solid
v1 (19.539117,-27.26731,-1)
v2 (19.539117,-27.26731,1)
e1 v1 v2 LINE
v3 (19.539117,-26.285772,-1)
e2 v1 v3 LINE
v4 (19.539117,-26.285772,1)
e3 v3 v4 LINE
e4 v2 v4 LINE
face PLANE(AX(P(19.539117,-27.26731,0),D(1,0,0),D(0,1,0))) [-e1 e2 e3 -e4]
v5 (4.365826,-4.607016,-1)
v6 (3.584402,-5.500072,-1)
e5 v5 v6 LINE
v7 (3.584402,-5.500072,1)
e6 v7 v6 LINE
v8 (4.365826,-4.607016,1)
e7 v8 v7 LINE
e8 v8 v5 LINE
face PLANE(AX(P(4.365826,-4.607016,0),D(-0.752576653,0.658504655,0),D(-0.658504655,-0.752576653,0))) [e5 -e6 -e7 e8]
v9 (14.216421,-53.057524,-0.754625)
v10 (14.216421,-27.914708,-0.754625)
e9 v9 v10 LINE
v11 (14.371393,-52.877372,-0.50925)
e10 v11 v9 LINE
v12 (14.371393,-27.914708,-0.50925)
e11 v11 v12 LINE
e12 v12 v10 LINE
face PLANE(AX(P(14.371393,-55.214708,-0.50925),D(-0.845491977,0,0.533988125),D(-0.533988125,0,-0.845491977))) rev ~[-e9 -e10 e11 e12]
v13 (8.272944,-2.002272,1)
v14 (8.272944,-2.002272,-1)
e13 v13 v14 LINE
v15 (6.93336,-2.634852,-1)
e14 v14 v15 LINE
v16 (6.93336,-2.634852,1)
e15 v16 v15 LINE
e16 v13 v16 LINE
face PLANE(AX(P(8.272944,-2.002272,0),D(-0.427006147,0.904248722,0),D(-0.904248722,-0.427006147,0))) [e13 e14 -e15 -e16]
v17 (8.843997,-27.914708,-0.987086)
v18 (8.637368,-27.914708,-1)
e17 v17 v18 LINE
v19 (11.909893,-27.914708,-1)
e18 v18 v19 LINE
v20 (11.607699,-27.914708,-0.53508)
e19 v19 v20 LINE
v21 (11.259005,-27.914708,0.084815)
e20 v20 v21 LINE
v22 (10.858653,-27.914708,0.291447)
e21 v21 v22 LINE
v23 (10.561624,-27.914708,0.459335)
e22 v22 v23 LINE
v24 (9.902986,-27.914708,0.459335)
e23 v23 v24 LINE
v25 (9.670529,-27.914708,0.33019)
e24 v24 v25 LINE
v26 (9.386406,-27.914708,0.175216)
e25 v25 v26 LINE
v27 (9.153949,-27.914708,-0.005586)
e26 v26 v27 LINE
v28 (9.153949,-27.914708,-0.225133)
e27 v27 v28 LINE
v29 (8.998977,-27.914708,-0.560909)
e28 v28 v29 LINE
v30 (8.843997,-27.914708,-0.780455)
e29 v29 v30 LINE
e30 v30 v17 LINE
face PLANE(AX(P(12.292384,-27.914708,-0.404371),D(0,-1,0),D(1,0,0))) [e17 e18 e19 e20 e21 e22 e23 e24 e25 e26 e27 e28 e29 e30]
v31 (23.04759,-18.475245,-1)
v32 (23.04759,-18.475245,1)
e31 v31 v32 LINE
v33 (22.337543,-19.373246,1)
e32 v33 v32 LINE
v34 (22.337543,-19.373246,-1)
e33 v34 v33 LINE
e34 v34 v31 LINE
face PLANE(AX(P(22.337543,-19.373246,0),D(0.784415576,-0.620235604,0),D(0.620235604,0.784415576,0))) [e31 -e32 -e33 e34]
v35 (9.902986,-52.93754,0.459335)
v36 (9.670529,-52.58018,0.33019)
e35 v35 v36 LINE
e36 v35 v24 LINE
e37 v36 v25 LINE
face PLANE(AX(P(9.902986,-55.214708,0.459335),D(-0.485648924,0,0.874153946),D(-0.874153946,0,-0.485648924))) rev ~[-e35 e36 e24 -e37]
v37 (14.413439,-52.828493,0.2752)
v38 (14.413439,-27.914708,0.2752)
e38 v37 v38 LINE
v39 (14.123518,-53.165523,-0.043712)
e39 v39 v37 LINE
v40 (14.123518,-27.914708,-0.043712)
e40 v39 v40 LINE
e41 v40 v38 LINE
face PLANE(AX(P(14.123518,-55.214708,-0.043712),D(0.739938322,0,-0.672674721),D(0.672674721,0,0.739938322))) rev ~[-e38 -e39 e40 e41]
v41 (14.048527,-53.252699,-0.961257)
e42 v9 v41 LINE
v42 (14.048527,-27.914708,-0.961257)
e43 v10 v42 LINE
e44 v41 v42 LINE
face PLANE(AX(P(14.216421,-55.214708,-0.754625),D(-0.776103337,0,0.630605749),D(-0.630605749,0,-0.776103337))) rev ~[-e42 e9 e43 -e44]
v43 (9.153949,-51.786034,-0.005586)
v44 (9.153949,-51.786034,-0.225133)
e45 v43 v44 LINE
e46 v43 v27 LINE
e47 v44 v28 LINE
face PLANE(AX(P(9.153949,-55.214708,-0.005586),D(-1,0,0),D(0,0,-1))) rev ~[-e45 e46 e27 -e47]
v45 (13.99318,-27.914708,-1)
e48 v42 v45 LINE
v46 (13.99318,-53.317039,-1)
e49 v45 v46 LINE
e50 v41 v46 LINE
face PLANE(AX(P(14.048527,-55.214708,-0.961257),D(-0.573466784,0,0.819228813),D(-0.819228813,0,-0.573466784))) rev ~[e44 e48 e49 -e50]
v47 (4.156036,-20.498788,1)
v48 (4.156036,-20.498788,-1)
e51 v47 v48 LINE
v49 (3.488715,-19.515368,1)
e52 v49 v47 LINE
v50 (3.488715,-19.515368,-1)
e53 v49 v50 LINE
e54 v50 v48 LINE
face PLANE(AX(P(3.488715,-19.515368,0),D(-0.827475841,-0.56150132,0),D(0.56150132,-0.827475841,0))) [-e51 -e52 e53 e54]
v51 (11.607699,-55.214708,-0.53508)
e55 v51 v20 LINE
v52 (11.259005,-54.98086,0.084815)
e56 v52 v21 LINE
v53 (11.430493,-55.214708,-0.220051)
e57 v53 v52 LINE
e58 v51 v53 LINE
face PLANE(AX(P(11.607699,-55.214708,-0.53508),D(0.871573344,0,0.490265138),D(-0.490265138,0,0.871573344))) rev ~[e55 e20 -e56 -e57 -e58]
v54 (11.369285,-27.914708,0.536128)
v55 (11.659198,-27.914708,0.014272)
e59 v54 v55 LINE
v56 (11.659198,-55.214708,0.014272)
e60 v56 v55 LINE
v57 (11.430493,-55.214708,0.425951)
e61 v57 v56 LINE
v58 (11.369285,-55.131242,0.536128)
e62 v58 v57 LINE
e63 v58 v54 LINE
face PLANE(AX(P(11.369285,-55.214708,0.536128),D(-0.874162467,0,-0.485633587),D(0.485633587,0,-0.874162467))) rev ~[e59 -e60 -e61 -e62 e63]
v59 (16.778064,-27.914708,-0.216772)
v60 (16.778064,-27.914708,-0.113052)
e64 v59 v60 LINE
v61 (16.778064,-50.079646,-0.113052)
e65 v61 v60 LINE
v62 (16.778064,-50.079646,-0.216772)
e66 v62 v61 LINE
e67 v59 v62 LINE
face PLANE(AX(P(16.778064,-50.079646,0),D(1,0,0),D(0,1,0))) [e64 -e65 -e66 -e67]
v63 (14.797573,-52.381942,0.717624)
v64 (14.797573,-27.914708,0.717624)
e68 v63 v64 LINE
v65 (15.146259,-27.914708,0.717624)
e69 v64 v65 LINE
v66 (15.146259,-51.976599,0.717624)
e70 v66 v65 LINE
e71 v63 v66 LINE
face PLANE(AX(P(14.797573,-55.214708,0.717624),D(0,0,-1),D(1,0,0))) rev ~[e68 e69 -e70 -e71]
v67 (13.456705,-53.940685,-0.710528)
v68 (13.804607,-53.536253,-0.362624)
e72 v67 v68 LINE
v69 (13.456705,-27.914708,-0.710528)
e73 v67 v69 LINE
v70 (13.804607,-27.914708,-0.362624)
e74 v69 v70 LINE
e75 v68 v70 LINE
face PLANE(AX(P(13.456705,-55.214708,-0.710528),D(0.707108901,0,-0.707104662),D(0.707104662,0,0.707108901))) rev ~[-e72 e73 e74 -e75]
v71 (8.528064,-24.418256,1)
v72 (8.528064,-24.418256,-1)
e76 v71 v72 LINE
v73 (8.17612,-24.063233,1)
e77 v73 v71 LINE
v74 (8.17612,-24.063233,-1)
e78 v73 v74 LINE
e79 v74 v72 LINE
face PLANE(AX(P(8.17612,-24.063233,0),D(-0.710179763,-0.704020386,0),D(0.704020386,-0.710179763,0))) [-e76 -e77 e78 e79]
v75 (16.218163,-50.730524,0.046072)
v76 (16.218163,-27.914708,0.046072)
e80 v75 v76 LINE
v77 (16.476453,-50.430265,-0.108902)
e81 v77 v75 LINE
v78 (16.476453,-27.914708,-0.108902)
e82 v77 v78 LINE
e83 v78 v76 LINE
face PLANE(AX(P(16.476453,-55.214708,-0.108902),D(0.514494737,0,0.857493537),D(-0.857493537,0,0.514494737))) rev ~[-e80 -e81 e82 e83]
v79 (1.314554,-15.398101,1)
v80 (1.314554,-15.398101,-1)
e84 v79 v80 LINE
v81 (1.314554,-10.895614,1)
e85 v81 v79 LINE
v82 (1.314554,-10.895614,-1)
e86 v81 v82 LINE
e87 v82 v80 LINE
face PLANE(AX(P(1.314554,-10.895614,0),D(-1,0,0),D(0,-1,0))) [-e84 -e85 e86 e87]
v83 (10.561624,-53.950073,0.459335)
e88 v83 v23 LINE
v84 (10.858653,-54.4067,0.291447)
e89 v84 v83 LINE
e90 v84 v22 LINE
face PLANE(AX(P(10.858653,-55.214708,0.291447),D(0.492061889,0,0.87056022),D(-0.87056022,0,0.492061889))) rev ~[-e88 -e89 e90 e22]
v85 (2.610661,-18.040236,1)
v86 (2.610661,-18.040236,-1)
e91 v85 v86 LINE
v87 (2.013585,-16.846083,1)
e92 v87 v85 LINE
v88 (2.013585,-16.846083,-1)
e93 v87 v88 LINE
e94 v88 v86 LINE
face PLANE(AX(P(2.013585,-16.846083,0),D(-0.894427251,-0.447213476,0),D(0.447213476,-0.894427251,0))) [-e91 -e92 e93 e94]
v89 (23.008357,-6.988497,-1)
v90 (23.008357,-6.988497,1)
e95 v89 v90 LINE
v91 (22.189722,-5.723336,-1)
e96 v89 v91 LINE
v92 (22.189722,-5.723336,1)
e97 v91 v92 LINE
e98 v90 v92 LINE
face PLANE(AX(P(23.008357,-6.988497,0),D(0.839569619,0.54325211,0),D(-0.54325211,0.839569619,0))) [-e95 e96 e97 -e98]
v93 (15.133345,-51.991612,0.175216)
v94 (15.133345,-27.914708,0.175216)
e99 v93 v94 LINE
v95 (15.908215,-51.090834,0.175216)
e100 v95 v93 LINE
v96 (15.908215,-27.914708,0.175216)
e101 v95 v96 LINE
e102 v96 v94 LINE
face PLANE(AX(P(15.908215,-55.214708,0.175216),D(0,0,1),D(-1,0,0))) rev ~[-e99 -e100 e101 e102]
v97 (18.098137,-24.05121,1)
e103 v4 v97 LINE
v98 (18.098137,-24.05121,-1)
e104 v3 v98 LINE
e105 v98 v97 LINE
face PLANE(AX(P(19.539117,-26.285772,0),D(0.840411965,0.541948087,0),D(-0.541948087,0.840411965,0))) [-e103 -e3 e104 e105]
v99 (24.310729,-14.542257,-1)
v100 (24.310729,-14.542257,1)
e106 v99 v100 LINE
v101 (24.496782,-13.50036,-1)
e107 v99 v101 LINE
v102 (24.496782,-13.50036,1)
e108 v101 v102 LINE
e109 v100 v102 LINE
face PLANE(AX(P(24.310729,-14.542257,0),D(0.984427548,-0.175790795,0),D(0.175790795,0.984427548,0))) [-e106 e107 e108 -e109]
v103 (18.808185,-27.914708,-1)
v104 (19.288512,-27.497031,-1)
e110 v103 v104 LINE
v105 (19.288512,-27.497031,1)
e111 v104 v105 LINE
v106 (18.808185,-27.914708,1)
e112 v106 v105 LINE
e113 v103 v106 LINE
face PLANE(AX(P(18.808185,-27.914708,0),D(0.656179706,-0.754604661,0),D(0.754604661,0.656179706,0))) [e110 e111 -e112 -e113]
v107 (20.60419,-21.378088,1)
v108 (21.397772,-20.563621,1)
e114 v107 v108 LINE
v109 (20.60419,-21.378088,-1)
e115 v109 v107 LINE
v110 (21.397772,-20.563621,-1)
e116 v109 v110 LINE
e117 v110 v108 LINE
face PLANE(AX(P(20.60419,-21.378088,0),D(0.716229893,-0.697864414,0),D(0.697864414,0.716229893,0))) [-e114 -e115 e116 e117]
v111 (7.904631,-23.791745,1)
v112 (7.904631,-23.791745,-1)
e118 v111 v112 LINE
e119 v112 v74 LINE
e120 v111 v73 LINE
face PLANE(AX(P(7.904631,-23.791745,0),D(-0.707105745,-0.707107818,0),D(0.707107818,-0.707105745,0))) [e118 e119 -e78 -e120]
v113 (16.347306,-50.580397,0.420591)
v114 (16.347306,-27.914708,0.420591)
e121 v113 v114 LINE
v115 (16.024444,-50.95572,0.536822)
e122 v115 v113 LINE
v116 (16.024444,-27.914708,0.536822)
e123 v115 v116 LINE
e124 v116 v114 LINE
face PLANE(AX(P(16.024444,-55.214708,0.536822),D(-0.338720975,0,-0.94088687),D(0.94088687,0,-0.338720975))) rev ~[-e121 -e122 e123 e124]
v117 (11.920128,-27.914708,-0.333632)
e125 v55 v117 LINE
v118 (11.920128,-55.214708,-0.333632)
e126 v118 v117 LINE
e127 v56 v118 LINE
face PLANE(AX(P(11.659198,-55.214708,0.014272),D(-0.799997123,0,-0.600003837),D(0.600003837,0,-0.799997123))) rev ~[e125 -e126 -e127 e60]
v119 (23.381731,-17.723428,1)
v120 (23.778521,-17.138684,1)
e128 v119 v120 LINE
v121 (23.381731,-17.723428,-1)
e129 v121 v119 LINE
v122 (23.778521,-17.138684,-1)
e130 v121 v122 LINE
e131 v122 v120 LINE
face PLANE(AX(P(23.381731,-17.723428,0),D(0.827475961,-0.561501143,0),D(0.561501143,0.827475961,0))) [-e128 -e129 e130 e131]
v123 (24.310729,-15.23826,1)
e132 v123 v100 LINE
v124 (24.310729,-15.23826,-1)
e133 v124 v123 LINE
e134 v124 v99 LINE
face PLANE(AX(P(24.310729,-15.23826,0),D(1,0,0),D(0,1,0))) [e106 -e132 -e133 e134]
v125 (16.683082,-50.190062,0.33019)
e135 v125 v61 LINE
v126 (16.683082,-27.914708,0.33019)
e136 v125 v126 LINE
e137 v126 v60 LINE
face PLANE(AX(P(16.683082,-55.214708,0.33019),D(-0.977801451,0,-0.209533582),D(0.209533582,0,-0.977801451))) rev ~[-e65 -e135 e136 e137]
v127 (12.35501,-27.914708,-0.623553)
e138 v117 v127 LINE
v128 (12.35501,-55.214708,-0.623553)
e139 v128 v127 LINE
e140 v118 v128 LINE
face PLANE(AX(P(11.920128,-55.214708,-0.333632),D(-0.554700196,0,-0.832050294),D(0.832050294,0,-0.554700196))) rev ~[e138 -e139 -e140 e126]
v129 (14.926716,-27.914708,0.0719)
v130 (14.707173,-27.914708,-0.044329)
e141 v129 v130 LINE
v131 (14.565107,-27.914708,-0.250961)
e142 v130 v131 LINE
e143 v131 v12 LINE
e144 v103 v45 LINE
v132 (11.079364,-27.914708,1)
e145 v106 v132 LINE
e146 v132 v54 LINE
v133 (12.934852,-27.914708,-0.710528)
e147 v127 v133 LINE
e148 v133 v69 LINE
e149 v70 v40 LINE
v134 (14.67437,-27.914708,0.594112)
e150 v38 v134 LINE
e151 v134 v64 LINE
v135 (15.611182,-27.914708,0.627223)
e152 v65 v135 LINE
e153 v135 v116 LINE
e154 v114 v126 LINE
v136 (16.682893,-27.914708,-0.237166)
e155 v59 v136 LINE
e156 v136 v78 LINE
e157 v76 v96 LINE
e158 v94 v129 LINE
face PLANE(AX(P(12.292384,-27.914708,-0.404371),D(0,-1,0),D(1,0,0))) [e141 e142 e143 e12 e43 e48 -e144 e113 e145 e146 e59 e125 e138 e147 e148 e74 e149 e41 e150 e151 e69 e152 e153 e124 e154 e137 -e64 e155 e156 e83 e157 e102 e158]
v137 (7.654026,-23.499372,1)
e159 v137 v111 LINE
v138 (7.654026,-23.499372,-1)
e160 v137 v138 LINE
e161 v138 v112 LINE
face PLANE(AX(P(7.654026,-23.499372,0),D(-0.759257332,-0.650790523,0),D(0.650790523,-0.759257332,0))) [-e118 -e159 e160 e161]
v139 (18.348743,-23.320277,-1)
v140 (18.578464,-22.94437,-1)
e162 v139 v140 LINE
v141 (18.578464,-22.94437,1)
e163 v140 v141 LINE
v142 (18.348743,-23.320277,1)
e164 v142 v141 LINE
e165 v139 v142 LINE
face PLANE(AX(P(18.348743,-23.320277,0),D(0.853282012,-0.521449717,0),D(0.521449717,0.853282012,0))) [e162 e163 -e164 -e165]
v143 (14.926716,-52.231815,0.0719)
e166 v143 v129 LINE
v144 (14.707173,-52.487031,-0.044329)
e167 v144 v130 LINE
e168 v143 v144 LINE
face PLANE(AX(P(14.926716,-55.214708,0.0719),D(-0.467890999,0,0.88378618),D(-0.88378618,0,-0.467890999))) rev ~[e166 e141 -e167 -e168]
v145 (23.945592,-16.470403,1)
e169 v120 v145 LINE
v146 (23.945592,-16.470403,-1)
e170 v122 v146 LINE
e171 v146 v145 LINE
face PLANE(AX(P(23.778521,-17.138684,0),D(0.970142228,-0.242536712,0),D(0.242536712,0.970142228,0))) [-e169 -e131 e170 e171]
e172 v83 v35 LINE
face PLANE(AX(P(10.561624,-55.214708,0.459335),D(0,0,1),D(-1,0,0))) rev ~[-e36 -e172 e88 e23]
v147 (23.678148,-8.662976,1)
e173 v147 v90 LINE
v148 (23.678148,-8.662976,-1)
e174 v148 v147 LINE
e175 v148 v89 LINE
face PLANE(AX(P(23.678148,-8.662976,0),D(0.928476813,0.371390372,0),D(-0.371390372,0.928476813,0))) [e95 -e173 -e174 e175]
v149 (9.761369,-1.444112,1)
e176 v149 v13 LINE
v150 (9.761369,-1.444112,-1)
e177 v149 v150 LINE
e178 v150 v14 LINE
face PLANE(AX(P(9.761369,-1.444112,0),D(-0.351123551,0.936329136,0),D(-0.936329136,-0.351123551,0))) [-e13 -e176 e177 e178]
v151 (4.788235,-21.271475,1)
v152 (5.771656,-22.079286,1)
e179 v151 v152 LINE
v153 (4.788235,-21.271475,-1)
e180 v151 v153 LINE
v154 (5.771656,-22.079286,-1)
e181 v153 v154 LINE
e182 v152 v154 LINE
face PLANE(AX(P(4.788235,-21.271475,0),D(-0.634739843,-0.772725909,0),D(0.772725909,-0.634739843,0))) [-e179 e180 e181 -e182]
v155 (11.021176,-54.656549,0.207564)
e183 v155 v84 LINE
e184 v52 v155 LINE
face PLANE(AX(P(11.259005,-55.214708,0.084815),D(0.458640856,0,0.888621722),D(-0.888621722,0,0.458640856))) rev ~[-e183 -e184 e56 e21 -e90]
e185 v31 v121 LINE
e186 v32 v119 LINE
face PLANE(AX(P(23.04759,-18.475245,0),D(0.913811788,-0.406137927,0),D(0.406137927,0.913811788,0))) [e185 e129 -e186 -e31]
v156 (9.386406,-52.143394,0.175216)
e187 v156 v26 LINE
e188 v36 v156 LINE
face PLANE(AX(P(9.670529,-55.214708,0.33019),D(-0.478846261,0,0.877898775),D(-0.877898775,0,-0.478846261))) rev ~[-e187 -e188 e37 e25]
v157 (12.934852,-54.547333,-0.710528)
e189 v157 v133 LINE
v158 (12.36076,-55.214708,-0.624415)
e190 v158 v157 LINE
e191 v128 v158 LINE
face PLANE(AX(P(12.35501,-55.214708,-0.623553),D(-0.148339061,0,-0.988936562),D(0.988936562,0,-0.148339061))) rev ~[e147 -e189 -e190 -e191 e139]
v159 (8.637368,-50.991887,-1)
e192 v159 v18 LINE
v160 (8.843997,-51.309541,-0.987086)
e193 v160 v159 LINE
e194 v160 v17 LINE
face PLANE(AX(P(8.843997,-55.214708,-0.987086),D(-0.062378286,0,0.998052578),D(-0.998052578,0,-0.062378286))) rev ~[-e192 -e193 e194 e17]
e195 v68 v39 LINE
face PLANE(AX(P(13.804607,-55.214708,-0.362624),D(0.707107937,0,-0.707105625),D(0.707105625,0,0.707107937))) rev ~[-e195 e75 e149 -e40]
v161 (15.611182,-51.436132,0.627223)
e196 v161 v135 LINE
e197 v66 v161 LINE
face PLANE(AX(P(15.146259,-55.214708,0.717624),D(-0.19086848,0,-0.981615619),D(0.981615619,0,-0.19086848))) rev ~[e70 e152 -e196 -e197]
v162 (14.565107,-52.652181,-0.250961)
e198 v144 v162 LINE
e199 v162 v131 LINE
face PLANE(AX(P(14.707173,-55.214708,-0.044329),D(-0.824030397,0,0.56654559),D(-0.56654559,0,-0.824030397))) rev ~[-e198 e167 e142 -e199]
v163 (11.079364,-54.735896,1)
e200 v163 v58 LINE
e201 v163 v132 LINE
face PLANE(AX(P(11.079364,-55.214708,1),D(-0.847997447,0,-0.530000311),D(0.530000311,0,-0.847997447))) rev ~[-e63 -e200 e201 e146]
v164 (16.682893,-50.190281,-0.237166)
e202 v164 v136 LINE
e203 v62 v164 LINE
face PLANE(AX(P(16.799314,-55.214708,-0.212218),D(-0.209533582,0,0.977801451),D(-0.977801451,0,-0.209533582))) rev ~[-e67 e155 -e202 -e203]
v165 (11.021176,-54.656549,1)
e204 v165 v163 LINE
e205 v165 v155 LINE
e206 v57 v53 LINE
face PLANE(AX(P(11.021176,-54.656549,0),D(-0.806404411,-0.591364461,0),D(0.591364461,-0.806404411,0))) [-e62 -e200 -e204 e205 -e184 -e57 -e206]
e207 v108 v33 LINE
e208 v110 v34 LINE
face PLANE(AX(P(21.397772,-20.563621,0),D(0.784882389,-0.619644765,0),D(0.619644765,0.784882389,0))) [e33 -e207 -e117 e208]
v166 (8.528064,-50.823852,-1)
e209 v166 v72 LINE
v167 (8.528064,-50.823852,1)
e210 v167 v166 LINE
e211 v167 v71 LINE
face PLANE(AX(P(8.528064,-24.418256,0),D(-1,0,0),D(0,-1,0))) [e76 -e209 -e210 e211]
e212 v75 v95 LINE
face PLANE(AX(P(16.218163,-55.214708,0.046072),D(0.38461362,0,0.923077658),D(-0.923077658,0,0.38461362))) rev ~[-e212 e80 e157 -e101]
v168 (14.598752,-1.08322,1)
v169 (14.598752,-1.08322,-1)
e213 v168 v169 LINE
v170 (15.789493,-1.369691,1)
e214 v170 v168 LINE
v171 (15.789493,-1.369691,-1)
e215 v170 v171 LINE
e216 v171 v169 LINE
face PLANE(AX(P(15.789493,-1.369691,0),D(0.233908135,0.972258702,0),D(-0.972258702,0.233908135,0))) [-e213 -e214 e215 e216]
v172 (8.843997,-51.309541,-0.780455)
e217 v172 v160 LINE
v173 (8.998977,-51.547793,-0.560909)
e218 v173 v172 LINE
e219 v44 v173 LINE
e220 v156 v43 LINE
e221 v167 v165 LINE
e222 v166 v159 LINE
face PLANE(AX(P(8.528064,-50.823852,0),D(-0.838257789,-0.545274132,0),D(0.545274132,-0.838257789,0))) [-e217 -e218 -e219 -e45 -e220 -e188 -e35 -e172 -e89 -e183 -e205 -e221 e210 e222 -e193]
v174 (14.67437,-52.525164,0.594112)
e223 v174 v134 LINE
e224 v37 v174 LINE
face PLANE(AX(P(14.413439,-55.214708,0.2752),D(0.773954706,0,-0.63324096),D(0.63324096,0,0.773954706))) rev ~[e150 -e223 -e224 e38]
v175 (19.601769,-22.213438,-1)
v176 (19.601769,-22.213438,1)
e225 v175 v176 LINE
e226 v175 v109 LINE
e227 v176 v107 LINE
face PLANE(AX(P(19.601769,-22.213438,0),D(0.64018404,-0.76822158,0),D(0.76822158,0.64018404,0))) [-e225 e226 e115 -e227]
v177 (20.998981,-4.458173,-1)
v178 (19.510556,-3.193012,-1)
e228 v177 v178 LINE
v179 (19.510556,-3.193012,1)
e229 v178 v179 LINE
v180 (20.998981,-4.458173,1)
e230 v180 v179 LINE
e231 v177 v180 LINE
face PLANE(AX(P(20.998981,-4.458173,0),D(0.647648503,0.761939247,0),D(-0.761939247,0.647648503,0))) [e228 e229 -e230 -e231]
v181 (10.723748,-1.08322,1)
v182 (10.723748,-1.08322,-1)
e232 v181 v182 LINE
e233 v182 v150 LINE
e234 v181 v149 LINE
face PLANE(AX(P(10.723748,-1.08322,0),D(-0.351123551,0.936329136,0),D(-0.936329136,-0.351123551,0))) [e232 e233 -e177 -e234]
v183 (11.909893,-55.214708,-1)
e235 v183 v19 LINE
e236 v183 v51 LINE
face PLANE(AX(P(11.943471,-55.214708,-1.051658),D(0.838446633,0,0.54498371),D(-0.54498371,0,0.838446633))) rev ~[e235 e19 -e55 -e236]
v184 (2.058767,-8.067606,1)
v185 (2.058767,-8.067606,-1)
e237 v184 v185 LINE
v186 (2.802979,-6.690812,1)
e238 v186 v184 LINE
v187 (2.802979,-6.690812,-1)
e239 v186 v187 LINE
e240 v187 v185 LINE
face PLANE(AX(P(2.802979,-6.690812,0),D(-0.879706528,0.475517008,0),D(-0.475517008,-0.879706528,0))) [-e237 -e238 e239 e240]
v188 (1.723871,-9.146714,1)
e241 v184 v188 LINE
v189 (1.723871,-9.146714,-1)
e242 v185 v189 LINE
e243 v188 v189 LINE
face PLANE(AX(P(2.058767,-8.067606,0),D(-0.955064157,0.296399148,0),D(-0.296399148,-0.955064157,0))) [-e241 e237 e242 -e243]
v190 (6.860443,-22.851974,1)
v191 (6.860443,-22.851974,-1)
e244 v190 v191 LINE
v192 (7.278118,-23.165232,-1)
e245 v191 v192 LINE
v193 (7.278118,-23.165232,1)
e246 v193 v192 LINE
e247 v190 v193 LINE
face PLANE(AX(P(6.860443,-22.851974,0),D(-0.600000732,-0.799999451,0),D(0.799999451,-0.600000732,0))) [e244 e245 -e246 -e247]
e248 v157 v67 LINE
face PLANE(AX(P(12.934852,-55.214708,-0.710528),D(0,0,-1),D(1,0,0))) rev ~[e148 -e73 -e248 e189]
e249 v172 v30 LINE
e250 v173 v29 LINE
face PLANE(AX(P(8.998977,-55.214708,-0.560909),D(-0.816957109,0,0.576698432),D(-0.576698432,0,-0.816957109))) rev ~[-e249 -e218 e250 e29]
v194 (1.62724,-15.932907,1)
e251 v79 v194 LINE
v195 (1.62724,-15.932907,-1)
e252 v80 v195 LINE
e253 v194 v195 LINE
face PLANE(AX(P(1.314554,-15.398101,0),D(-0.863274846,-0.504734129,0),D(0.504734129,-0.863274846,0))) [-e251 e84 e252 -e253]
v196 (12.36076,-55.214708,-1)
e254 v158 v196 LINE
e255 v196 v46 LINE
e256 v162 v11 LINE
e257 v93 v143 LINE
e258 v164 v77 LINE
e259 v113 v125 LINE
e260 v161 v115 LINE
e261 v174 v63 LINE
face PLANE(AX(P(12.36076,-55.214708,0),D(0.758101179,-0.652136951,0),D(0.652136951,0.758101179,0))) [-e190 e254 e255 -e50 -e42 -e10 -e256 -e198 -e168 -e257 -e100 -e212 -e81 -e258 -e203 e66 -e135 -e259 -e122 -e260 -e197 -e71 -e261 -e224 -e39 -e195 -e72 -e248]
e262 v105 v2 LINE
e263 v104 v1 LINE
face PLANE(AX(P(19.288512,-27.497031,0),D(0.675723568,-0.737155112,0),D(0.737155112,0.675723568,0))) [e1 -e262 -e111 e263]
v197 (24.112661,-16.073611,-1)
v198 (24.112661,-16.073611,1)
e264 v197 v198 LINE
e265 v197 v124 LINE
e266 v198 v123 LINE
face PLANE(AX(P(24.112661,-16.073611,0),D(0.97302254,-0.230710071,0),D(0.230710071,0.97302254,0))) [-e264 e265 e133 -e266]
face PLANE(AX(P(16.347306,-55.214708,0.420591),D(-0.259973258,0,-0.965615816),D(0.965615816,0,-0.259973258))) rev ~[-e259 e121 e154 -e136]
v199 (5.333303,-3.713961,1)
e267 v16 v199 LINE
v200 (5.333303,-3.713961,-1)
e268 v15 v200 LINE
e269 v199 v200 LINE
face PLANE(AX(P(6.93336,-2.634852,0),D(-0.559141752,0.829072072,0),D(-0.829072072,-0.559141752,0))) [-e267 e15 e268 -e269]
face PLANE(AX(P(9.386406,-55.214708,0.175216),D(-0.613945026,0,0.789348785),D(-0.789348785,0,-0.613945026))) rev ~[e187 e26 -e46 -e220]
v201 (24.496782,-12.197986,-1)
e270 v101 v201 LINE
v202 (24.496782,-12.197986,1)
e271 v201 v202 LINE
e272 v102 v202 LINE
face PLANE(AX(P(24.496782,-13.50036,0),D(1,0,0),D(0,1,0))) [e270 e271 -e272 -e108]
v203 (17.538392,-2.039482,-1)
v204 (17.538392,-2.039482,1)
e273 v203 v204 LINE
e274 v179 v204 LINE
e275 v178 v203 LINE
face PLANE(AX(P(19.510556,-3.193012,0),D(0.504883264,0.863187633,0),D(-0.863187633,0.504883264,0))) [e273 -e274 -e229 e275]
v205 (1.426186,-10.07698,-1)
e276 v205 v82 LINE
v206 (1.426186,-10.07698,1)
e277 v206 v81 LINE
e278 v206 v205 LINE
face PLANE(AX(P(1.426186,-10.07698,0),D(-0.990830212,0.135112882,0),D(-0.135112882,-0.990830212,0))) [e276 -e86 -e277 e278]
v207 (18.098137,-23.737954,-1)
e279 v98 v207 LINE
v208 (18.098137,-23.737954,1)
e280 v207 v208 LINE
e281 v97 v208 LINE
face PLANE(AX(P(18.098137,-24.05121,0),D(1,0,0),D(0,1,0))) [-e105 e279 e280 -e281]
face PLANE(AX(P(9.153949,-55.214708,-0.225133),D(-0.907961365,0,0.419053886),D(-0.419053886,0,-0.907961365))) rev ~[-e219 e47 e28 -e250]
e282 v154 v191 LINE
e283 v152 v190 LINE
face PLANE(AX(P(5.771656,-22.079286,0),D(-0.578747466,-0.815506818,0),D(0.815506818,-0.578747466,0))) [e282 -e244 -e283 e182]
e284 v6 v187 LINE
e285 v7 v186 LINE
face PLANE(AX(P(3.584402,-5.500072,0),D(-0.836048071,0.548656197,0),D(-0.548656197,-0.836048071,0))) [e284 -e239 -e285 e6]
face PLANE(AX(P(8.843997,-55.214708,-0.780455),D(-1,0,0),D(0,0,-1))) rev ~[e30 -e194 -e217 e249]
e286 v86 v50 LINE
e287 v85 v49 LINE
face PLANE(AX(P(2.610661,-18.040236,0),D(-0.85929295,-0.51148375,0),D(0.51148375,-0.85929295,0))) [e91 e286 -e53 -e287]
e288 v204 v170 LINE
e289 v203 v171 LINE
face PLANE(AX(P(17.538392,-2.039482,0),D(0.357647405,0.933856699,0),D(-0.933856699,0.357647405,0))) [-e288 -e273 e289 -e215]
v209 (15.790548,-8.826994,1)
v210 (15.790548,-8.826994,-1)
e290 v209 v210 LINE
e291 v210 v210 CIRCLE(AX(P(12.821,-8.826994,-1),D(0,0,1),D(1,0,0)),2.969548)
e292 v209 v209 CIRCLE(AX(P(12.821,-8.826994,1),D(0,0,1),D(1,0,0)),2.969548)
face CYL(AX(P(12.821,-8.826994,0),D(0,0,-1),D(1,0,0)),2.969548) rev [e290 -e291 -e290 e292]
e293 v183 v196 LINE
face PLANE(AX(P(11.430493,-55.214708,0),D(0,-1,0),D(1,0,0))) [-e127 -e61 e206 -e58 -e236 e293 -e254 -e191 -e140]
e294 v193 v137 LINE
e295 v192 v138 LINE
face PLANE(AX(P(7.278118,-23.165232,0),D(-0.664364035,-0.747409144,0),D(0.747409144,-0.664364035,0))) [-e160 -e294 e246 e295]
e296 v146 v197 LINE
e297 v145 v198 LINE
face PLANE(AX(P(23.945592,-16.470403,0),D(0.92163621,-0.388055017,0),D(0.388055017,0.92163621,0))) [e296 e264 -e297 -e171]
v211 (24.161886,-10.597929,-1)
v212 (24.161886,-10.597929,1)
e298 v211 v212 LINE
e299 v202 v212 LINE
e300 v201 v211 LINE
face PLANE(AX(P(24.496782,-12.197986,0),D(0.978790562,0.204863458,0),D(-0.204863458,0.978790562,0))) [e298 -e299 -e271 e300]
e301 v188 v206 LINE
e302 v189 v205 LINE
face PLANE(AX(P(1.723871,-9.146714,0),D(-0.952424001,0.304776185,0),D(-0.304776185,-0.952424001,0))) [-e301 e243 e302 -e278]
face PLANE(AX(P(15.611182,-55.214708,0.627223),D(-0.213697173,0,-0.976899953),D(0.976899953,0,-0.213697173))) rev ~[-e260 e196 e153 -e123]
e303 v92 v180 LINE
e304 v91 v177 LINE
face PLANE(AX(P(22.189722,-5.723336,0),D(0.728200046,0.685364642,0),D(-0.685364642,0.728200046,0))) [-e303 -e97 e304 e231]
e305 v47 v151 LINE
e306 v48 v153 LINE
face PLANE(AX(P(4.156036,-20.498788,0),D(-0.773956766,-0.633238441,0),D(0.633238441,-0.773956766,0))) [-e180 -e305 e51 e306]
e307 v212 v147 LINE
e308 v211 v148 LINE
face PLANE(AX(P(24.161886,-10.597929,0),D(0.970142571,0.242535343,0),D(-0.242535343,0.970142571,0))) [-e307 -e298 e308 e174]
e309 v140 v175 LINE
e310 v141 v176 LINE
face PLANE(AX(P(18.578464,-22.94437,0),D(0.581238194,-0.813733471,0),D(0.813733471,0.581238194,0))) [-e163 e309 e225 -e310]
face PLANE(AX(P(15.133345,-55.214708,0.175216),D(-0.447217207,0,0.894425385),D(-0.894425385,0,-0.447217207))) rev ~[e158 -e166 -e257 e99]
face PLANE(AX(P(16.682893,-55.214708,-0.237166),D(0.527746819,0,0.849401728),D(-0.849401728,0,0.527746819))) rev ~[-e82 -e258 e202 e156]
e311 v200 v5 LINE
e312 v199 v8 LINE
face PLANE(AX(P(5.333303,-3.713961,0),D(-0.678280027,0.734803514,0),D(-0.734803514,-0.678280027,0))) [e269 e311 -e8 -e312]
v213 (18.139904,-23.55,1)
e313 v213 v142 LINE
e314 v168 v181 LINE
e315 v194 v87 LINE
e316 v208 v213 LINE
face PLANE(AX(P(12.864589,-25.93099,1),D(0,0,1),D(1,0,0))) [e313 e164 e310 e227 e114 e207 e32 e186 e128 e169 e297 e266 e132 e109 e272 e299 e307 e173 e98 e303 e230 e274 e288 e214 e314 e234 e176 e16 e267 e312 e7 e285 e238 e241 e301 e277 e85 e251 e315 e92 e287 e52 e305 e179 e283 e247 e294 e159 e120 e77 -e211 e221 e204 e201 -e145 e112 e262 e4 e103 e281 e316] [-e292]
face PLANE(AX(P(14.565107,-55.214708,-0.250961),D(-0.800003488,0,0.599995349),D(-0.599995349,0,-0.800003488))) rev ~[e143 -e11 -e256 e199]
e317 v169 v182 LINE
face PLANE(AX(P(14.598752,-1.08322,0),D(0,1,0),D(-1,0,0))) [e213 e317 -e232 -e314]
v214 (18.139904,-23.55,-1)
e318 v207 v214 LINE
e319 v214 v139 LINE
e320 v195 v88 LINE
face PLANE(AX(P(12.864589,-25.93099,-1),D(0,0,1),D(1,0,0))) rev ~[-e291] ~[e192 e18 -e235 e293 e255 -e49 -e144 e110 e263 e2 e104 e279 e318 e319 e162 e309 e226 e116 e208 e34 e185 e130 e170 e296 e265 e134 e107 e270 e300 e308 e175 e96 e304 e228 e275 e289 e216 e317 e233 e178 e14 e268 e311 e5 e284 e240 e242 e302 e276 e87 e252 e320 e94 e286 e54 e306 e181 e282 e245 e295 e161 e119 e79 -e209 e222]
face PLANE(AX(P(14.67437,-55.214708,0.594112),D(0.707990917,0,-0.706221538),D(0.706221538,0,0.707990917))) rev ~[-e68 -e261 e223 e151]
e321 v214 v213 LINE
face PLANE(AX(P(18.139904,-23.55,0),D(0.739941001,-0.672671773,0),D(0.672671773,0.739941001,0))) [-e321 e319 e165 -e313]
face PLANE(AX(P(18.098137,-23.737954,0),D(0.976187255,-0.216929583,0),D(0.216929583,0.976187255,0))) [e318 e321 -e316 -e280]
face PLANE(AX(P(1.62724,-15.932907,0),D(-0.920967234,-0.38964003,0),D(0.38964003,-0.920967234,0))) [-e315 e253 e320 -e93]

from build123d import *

# Parameters (mm, degrees)
F0_R     = 2.9695482625
F1_DEPTH = 1
F4_DEPTH = 27.3


with BuildPart() as f1:
    # F0 (on Top) → F1 (new body, symmetric)
    with BuildSketch(Plane.XY):
        Polygon((12.3607597711, -55.2147076325), (16.7780640493, -50.0796457731), (16.7780640493, -27.9147076325), (18.8081849192, -27.9147076325), (19.2885116058, -27.4970311455), (19.5391171796, -27.2673100327), (19.5391171796, -26.9958199979), (19.5391171796, -26.7243331464), (19.5391171796, -26.2857721985), (18.0981371197, -24.0512096784), (18.0981371197, -23.7379539049), (18.1399044501, -23.5500001224), (18.3487426936, -23.3202774179), (18.5784638064, -22.9443698531), (19.601768971, -22.2134375926), (20.6041896746, -21.3780878021), (21.3977721348, -20.5636208809), (22.3375426387, -19.3732463948), (23.0475904382, -18.475244813), (23.3817306727, -17.7234280915), (23.7785211069, -17.1386838748), (23.94559202, -16.4704034057), (24.1126613415, -16.0736113798), (24.3107286721, -15.2382599976), (24.3107286721, -14.5422572011), (24.4967819861, -13.5003595977), (24.4967819861, -12.1979863997), (24.1618857025, -10.5979288543), (23.6781480411, -8.6629758211), (23.0083570657, -6.9884967909), (22.1897215291, -5.723335529), (20.9989809561, -4.4581734713), (19.5105560358, -3.1930120105), (17.5383918623, -2.0394821799), (15.7894929391, -1.3696908066), (14.5987523661, -1.0832198235), (10.7237476301, -1.0832198235), (9.7613685895, -1.4441120924), (8.2729436691, -2.0022716365), (6.9333601266, -2.6348524664), (5.3333029791, -3.7139610111), (4.3658260647, -4.6070164409), (3.5844024642, -5.5000718706), (2.8029794606, -6.6908124435), (2.0587666025, -8.0676063305), (1.7238711148, -9.1467142784), (1.4261855736, -10.0769800525), (1.3145539433, -10.8956139975), (1.3145539433, -11.6398272535), (1.3145539433, -15.3981014905), (1.6272404915, -15.9329066809), (2.0135845171, -16.8460833601), (2.6106608878, -18.0402364995), (3.4887149126, -19.5153676908), (4.1560359953, -20.498788485), (4.7882354184, -21.2714753424), (5.7716558147, -22.079285849), (6.8604427815, -22.851974298), (7.2781184726, -23.1652316632), (7.6540260375, -23.4993718978), (7.9046308155, -23.7917448019), (8.1761200545, -24.0632332451), (8.5280640493, -24.418256349), (8.5280640493, -24.8359328359), (8.5280640493, -25.2878464051), (8.5280640493, -50.8238519687), (11.0211762286, -54.6565492822), (11.4304932011, -55.2147076325), (11.8025998291, -55.2147076325), align=None)
        with Locations((12.8210000694, -8.8269943371)):
            Circle(F0_R, mode=Mode.SUBTRACT)
    extrude(amount=F1_DEPTH, both=True)

    # F3 (on offset) → F4 (cut)
    with BuildSketch(Plane.XZ.offset(55.2147076325)):
        Polygon((17.2618441284, 1.6106185503), (7.4076484889, 1.6106185503), (7.2416369803, -2.3955139332), (17.2618441284, -2.3955139332), align=None)
        Polygon((8.4565682159, -1), (8.5280640493, 1), (11.0793640826, 1), (11.3692851097, 0.5361280251), (11.6591977943, 0.0142720533), (11.9201283872, -0.3336319279), (12.3550099279, -0.623552955), (12.9348519822, -0.7105284289), (13.4567048255, -0.7105284289), (13.804606721, -0.3626244477), (14.1235181824, -0.0437119435), (14.4134392095, 0.2751995178), (14.6743698024, 0.594112022), (14.7975728908, 0.7176237855), (15.1462589881, 0.7176237855), (15.6111821269, 0.6272226434), (16.0244438949, 0.5368215013), (16.3473055636, 0.4205907166), (16.6830815322, 0.3301895745), (16.7993144025, -0.2122183209), (16.6828928362, -0.237166359), (16.4764527338, -0.1089018361), (16.2181625646, 0.0460718483), (15.9082151958, 0.1752158901), (15.5853535271, 0.1752158901), (15.1333446882, 0.1752158901), (14.9267158898, 0.0719004481), (14.7071727916, -0.0443292938), (14.5651071501, -0.2509612206), (14.3713926517, -0.509250347), (14.2164210529, -0.7546251735), (14.0485268117, -0.9612571003), (13.9193838127, -1.0516582424), (11.9434709008, -1.0516582424), (11.6076991035, -0.5350799896), (11.2590046637, 0.084814748), (10.8586530244, 0.2914466748), (10.5616241267, 0.4593346591), (10.2258439869, 0.4593346591), (9.9029864894, 0.4593346591), (9.6705290913, 0.3301895745), (9.386406151, 0.1752158901), (9.1539487529, -0.0055863941), (9.1539487529, -0.2251326208), (8.9989771541, -0.5609085894), (8.8439972128, -0.7804548161), (8.8439972128, -0.9870857001), (8.6373684144, -1), align=None, mode=Mode.SUBTRACT)
    extrude(amount=-F4_DEPTH, mode=Mode.SUBTRACT)


solid = f1.part
